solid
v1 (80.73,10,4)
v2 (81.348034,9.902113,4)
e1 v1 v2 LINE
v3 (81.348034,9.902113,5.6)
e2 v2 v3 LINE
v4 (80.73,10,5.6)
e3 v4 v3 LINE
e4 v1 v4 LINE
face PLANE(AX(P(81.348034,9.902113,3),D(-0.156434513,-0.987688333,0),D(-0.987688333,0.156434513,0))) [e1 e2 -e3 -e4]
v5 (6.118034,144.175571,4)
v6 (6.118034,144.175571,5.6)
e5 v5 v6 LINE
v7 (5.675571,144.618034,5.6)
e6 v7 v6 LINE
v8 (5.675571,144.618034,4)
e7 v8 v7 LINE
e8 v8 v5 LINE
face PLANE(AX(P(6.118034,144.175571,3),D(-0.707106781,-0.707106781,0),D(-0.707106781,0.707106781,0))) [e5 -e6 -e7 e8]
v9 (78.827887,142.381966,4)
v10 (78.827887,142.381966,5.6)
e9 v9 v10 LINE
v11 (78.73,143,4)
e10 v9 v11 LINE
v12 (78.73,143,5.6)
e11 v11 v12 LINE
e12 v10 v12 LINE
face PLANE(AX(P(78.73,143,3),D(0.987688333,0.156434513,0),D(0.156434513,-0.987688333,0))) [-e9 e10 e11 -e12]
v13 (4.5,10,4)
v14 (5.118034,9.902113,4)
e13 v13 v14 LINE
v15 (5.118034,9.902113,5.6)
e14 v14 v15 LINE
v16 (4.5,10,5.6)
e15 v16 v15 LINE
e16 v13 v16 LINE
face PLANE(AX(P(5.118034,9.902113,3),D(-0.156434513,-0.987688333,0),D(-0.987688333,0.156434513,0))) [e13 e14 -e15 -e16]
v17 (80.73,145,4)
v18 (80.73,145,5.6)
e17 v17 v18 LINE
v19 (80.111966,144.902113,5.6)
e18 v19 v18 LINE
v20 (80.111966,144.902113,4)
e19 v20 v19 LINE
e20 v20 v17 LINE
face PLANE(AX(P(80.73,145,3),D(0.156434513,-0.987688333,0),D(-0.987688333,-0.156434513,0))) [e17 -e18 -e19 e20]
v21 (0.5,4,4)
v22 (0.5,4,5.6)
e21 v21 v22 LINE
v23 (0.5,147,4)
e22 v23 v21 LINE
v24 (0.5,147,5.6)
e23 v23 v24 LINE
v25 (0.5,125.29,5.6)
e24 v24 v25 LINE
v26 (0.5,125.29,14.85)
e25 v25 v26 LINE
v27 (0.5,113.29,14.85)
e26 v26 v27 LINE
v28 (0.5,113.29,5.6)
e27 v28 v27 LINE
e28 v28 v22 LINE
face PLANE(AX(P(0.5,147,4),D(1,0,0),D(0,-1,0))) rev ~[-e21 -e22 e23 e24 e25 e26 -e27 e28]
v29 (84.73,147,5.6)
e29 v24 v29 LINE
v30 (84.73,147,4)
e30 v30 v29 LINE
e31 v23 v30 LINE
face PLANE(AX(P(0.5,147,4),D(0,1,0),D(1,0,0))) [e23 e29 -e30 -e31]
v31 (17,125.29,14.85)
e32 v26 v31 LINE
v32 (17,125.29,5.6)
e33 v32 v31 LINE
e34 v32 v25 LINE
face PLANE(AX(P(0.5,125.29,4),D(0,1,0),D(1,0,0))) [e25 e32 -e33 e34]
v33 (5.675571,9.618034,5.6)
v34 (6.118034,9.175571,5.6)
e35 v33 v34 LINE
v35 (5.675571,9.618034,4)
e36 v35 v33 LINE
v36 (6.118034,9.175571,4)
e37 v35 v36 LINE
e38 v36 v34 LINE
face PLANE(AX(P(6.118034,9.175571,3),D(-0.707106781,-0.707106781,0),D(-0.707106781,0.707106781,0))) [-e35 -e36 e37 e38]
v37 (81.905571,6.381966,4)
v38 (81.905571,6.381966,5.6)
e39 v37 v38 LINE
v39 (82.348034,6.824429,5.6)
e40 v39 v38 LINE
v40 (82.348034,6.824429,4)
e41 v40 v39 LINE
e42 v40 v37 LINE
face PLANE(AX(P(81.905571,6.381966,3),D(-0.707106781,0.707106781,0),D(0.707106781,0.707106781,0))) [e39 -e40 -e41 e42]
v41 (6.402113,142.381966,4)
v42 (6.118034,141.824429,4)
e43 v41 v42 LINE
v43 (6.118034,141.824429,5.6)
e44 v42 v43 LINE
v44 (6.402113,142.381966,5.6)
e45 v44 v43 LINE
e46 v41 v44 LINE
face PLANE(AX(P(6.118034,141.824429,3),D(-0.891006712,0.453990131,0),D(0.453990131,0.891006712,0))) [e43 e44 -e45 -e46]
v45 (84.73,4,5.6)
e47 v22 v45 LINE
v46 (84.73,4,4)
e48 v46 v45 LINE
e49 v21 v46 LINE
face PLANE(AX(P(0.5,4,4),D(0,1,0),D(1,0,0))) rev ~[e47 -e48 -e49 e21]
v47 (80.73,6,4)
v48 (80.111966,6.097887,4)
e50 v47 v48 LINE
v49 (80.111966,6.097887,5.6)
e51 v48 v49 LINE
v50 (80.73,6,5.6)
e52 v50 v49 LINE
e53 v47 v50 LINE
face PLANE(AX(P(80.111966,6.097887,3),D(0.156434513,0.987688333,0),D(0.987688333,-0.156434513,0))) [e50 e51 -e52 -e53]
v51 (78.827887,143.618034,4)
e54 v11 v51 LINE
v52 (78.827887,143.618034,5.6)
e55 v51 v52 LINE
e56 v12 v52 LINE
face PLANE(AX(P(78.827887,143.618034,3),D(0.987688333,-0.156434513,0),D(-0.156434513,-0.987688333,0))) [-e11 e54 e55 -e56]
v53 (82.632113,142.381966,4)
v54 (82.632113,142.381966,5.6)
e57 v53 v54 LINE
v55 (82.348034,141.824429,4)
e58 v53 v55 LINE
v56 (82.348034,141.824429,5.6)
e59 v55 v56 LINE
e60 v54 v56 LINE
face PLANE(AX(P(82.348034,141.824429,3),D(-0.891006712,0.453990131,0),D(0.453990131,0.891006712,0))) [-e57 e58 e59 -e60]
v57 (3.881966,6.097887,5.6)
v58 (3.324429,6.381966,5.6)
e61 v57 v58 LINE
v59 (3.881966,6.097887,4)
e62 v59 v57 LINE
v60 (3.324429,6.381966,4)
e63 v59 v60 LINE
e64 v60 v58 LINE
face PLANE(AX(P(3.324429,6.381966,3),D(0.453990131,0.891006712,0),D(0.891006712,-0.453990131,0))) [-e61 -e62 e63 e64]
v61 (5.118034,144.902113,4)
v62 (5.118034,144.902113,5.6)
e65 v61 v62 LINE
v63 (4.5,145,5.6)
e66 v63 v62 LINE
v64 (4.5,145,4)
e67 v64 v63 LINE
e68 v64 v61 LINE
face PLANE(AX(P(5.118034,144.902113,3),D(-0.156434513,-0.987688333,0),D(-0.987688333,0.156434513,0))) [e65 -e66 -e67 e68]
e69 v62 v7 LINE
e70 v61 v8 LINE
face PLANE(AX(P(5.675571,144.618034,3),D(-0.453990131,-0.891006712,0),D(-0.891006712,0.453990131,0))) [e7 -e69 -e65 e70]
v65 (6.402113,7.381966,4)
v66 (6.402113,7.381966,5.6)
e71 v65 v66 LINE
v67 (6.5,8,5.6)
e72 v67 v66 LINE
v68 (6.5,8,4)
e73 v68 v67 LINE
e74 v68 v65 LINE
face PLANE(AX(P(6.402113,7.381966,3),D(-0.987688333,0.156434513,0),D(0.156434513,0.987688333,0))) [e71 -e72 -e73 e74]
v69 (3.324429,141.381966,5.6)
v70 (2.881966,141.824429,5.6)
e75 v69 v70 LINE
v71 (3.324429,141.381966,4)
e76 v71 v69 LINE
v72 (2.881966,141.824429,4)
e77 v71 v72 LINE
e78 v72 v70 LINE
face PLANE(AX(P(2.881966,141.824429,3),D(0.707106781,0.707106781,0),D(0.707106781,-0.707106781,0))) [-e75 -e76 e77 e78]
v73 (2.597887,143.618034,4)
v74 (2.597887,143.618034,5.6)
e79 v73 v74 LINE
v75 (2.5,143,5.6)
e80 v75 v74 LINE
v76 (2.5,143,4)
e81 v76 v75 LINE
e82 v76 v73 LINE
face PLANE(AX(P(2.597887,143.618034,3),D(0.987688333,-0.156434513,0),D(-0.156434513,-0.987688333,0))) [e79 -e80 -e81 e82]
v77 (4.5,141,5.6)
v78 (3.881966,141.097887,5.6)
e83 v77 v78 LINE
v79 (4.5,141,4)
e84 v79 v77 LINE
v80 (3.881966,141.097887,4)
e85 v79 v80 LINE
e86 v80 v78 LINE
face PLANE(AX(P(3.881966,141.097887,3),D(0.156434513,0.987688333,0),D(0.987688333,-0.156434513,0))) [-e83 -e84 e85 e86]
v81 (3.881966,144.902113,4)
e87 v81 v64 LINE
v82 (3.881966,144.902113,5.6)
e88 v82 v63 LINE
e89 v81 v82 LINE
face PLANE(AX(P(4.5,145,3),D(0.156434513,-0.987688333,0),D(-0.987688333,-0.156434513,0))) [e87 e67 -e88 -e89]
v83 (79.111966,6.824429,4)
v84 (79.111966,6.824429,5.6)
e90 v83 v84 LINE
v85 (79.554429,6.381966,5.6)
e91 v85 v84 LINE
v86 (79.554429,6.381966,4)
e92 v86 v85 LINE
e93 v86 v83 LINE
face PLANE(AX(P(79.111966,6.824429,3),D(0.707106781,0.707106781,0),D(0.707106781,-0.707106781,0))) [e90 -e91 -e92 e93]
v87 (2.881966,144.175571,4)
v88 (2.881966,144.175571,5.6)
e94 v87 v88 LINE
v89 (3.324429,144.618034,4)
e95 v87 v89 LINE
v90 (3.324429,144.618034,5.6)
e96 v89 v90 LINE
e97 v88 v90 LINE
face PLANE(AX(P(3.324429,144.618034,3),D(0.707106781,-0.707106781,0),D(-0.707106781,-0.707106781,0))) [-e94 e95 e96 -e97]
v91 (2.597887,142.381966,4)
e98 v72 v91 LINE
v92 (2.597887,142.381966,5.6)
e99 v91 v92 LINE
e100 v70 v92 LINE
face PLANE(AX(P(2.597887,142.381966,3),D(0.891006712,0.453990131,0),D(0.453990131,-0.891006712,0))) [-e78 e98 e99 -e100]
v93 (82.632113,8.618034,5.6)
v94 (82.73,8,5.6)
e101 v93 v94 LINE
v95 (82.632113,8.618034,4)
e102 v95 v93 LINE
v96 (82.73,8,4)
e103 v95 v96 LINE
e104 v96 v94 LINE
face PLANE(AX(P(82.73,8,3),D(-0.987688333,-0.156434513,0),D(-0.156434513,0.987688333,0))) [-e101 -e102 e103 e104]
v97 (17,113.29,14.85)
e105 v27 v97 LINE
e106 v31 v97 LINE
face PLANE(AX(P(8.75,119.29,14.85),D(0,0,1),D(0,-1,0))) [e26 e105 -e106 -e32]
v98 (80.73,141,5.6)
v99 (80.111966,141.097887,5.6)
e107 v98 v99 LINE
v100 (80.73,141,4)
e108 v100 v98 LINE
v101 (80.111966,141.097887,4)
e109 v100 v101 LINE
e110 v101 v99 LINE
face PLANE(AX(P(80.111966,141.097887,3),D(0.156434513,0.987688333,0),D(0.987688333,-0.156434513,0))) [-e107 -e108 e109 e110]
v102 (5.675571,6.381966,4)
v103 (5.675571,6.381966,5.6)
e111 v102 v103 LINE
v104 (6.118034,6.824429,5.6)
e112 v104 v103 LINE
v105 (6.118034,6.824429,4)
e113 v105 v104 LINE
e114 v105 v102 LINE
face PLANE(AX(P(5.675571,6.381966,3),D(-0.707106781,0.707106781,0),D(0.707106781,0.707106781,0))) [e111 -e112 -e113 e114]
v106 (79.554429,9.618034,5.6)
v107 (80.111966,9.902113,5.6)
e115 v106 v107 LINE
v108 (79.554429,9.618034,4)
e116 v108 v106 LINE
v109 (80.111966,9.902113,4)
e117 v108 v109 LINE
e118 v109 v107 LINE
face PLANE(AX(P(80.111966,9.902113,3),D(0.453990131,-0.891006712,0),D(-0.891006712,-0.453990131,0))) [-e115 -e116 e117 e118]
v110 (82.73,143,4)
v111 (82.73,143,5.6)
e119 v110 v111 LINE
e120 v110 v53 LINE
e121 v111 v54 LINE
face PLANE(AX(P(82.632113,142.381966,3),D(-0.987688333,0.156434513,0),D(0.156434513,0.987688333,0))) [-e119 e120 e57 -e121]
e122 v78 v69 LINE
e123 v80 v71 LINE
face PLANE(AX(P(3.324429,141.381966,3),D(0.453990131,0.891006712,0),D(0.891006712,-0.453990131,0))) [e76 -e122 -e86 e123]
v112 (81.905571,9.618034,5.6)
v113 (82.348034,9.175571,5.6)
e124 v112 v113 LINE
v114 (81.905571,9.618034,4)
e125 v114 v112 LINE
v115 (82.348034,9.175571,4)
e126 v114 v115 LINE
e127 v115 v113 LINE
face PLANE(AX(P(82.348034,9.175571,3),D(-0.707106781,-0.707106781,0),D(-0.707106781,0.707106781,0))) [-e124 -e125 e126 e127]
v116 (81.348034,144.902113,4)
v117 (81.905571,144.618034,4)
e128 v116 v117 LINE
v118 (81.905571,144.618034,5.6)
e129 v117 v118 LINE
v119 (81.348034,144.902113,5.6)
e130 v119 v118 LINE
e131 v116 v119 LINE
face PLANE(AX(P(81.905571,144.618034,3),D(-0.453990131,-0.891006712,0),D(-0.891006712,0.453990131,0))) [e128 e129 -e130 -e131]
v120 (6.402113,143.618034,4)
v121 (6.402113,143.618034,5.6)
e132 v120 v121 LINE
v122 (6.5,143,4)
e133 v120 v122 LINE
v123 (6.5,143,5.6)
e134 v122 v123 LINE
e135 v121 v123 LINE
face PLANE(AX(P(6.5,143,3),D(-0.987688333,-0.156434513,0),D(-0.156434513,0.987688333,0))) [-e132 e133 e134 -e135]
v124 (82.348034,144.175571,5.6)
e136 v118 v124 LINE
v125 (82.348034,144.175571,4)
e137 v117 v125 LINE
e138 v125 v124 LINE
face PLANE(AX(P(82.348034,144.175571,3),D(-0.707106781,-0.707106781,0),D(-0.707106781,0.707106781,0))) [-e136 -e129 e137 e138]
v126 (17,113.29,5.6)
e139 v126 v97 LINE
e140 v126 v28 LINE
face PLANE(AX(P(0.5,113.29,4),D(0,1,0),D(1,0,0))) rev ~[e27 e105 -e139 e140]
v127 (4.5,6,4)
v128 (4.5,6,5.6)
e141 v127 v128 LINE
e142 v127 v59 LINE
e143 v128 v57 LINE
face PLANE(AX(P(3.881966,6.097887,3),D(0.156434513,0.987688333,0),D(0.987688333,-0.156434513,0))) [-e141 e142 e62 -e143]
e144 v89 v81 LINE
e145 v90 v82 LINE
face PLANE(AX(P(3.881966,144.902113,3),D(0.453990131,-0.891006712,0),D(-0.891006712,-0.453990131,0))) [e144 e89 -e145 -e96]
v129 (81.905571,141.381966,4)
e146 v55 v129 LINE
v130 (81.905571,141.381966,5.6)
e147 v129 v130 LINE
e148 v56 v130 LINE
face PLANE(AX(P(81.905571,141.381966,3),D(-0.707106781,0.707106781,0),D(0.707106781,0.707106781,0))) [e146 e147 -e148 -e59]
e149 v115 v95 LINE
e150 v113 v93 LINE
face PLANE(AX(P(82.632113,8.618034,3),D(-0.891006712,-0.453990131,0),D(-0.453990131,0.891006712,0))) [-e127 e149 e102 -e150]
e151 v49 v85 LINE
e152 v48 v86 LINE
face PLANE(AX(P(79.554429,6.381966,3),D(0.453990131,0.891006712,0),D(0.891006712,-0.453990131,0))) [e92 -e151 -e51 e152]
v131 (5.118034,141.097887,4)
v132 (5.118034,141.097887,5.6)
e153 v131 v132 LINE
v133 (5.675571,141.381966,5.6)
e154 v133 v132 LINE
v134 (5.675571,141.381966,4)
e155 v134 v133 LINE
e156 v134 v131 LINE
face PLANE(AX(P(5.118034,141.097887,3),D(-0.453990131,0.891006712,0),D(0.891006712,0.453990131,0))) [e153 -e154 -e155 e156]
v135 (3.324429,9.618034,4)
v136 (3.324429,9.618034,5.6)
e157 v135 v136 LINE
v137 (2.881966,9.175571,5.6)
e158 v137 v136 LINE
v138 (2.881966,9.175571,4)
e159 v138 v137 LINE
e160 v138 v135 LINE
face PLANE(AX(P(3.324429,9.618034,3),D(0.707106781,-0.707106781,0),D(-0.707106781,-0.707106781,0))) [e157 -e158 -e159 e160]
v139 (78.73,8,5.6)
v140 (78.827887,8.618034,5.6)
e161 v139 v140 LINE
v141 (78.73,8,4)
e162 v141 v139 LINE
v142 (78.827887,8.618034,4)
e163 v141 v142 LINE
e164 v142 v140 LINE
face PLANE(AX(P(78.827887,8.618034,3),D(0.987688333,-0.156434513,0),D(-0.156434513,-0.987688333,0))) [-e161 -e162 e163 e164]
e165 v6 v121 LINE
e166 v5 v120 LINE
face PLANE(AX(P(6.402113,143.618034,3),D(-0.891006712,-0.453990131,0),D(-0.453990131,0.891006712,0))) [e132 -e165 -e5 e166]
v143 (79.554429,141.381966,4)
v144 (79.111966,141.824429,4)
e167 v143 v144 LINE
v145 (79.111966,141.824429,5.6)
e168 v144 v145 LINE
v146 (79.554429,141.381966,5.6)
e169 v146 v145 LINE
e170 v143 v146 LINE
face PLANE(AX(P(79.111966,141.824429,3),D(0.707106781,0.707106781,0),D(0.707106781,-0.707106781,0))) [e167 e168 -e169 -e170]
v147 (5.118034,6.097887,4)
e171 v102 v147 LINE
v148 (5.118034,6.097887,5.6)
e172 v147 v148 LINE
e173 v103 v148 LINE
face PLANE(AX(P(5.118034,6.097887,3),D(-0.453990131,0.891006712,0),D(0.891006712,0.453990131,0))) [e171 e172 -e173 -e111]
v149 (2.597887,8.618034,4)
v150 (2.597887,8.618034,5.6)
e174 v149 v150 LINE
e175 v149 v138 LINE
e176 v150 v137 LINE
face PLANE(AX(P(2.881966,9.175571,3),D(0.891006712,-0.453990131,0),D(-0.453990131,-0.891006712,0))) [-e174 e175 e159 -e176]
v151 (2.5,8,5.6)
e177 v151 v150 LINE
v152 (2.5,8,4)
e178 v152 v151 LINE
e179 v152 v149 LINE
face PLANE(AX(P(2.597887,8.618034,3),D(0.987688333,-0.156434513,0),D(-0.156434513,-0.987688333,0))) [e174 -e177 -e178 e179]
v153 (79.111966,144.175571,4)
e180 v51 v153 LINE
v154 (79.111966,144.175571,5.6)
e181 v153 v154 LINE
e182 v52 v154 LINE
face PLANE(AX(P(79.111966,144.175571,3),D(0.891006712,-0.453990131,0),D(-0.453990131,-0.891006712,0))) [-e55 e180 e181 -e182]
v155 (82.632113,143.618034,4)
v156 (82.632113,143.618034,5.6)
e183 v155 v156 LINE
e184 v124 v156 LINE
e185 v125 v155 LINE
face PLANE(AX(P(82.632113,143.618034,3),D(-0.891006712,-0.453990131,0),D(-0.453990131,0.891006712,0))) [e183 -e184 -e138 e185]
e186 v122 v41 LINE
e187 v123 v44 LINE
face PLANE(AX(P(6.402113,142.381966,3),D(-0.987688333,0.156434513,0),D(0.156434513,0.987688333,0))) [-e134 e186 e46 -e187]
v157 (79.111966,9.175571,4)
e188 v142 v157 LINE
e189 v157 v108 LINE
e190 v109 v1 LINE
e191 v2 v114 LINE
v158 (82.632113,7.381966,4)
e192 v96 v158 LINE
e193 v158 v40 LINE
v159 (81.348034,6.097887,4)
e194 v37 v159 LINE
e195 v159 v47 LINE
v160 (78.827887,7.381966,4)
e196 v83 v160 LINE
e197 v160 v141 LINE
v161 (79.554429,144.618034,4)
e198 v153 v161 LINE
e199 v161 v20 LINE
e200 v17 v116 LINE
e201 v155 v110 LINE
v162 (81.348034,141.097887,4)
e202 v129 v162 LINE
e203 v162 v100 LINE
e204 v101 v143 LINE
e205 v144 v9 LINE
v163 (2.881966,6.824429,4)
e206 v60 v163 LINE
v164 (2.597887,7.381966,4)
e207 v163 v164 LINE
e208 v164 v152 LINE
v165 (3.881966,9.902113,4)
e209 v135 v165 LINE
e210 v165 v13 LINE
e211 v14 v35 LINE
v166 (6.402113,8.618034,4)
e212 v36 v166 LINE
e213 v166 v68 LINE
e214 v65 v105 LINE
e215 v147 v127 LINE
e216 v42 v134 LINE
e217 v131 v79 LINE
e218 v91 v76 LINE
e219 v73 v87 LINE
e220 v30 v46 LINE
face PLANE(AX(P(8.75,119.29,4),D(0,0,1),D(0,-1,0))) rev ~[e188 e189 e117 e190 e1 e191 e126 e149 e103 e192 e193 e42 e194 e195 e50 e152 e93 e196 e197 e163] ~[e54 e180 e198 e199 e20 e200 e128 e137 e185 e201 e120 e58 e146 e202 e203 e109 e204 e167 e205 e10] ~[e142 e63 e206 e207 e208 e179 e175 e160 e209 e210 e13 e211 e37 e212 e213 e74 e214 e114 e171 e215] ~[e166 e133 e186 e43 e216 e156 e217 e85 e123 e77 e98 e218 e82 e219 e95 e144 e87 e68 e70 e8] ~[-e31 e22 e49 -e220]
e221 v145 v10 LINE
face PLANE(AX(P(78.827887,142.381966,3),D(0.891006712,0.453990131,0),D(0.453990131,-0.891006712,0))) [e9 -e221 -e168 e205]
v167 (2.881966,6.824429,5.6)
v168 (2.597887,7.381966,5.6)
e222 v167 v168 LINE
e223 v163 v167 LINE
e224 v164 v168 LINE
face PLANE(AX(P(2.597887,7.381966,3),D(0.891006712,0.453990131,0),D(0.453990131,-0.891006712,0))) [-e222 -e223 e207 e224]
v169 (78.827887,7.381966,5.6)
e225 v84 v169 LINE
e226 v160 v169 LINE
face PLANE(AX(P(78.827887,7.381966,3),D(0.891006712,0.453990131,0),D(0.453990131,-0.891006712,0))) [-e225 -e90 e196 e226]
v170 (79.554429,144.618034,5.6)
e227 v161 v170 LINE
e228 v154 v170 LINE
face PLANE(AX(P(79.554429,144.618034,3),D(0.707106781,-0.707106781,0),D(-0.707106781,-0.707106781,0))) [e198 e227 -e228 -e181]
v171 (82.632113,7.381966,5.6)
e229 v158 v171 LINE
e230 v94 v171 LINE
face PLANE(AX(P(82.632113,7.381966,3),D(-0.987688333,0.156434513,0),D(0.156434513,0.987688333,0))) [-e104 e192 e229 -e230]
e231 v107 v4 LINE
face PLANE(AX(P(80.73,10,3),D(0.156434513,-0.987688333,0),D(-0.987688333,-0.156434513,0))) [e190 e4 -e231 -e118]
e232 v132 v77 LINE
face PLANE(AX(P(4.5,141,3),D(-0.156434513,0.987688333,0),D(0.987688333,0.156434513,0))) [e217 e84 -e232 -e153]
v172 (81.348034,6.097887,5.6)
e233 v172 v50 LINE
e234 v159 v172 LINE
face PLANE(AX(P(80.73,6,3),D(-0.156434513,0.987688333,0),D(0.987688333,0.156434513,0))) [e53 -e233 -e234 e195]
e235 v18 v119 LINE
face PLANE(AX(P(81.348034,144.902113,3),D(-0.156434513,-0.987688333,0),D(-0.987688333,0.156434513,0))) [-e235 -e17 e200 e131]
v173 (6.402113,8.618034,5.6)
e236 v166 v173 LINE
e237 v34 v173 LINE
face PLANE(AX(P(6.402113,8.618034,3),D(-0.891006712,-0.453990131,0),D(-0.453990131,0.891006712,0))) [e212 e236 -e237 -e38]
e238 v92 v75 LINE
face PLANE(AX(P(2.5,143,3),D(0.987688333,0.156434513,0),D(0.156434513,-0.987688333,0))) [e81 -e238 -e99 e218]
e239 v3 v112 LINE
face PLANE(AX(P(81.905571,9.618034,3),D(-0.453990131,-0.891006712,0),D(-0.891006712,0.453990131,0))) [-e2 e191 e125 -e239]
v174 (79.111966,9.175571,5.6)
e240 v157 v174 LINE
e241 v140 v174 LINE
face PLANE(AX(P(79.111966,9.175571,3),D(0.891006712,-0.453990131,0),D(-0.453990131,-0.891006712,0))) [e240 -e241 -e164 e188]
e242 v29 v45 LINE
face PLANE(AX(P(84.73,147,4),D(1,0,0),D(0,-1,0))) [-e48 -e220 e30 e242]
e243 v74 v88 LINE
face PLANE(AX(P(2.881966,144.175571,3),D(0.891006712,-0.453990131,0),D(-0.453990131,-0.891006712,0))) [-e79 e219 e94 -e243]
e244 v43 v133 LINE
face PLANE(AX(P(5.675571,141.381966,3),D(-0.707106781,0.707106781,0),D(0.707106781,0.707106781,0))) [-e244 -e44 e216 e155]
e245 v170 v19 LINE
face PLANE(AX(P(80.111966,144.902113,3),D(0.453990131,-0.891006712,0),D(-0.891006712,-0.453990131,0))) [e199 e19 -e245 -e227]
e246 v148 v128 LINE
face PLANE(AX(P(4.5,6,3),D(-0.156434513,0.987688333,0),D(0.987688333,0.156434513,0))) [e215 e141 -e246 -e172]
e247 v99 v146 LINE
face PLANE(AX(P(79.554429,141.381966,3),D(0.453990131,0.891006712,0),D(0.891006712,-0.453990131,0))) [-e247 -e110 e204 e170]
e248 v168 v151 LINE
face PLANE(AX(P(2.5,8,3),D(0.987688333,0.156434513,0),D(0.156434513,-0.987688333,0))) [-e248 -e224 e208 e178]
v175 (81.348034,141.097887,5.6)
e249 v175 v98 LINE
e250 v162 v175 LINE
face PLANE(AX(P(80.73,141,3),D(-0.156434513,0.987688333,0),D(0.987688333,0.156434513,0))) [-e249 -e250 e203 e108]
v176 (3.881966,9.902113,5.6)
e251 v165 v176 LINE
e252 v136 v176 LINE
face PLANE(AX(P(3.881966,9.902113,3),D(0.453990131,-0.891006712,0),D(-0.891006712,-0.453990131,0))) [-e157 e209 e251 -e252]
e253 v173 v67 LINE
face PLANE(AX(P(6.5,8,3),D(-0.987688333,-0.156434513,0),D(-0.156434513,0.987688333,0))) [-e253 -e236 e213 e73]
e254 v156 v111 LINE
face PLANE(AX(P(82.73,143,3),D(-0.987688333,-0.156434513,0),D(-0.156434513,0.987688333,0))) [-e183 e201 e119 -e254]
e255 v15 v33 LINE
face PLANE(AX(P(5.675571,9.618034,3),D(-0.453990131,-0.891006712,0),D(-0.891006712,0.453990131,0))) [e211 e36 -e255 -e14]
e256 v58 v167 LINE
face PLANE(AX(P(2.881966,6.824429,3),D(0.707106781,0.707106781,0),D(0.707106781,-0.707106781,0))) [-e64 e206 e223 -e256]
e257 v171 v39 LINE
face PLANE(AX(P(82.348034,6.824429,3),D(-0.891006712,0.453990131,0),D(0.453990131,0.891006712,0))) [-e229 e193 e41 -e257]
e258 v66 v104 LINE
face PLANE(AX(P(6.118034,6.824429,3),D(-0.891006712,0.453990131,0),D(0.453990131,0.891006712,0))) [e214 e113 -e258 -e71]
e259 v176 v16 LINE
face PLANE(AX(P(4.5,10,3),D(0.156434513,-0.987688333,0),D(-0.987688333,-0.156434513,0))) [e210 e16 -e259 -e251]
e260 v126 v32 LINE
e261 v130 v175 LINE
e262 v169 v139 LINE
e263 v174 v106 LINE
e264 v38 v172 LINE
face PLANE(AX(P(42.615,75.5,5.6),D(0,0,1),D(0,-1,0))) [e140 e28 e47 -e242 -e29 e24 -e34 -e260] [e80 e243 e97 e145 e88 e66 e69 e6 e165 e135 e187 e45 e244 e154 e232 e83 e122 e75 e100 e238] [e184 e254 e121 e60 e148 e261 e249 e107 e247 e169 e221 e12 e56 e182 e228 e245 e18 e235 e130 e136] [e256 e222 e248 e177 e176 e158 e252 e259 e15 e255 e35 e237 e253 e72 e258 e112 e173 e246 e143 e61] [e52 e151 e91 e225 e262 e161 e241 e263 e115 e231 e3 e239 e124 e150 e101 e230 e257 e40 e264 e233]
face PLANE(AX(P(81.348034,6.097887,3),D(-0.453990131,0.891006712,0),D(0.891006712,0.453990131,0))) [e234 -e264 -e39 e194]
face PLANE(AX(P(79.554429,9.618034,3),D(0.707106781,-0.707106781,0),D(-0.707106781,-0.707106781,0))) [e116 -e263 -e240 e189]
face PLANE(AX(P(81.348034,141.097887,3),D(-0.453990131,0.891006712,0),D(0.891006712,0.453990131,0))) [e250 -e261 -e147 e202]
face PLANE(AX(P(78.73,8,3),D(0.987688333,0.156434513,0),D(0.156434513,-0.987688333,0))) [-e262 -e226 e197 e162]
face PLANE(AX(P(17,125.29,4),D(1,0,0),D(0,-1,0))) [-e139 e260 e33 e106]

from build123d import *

# Parameters (mm, degrees)
PRISM001_DEPTH             = 10
PRISM002_DEPTH             = 10
PRISM003_DEPTH             = 10
PRISM_DEPTH                = 10
CUBE001_W                  = 12
CUBE001_H                  = 16.5
CUBE001_DEPTH              = 10.85
CUBE_W                     = 143
CUBE_H                     = 84.23
CUBE_DEPTH                 = 1.6
DIFFERENCE_PLACEMENT_ANGLE = -90


with BuildPart() as prism001:
    # prism001 → prism001 (new body)
    with BuildSketch(Plane(origin=(139, 4, -1), x_dir=(1, 0, 0), z_dir=(0, 0, 1))):
        Polygon((2, 0), (1.902113, 0.618034), (1.618034, 1.175571), (1.175571, 1.618034), (0.618034, 1.902113), (0, 2), (-0.618034, 1.902113), (-1.175571, 1.618034), (-1.618034, 1.175571), (-1.902113, 0.618034), (-2, 0), (-1.902113, -0.618034), (-1.618034, -1.175571), (-1.175571, -1.618034), (-0.618034, -1.902113), (0, -2), (0.618034, -1.902113), (1.175571, -1.618034), (1.618034, -1.175571), (1.902113, -0.618034), align=None)
    extrude(amount=PRISM001_DEPTH)


with BuildPart() as prism002:
    # prism002 → prism002 (new body)
    with BuildSketch(Plane(origin=(4, 80.23, -1), x_dir=(1, 0, 0), z_dir=(0, 0, 1))):
        Polygon((2, 0), (1.902113, 0.618034), (1.618034, 1.175571), (1.175571, 1.618034), (0.618034, 1.902113), (0, 2), (-0.618034, 1.902113), (-1.175571, 1.618034), (-1.618034, 1.175571), (-1.902113, 0.618034), (-2, 0), (-1.902113, -0.618034), (-1.618034, -1.175571), (-1.175571, -1.618034), (-0.618034, -1.902113), (0, -2), (0.618034, -1.902113), (1.175571, -1.618034), (1.618034, -1.175571), (1.902113, -0.618034), align=None)
    extrude(amount=PRISM002_DEPTH)


with BuildPart() as prism003:
    # prism003 → prism003 (new body)
    with BuildSketch(Plane(origin=(139, 80.23, -1), x_dir=(1, 0, 0), z_dir=(0, 0, 1))):
        Polygon((2, 0), (1.902113, 0.618034), (1.618034, 1.175571), (1.175571, 1.618034), (0.618034, 1.902113), (0, 2), (-0.618034, 1.902113), (-1.175571, 1.618034), (-1.618034, 1.175571), (-1.902113, 0.618034), (-2, 0), (-1.902113, -0.618034), (-1.618034, -1.175571), (-1.175571, -1.618034), (-0.618034, -1.902113), (0, -2), (0.618034, -1.902113), (1.175571, -1.618034), (1.618034, -1.175571), (1.902113, -0.618034), align=None)
    extrude(amount=PRISM003_DEPTH)


with BuildPart() as group002:
    # prism → prism (new body)
    with BuildSketch(Plane(origin=(4, 4, -1), x_dir=(1, 0, 0), z_dir=(0, 0, 1))):
        Polygon((2, 0), (1.902113, 0.618034), (1.618034, 1.175571), (1.175571, 1.618034), (0.618034, 1.902113), (0, 2), (-0.618034, 1.902113), (-1.175571, 1.618034), (-1.618034, 1.175571), (-1.902113, 0.618034), (-2, 0), (-1.902113, -0.618034), (-1.618034, -1.175571), (-1.175571, -1.618034), (-0.618034, -1.902113), (0, -2), (0.618034, -1.902113), (1.175571, -1.618034), (1.618034, -1.175571), (1.902113, -0.618034), align=None)
    extrude(amount=PRISM_DEPTH)

    # Group002: union prism001, prism002, prism003
    add(prism001.part)
    add(prism002.part)
    add(prism003.part)


with BuildPart() as cube001:
    # cube001 → cube001 (new body)
    with BuildSketch(Plane(origin=(21.71, 0, 0), x_dir=(1, 0, 0), z_dir=(0, 0, 1))):
        with Locations((6, 8.25)):
            Rectangle(CUBE001_W, CUBE001_H)
    extrude(amount=CUBE001_DEPTH)


with BuildPart() as mks_gen_14_dummy:
    # cube → cube (new body)
    with BuildSketch(Plane.XY):
        with Locations((71.5, 42.115)):
            Rectangle(CUBE_W, CUBE_H)
    extrude(amount=CUBE_DEPTH)

    # Group001: union cube001
    add(cube001.part)

    # difference: cut Group002
    add(group002.part, mode=Mode.SUBTRACT)


with BuildPart() as mks_gen_14_dummy_1:
    # difference placement: moved
    add(mks_gen_14_dummy.part.moved(Location((0.5, 147, 4))).rotate(Axis((0.5, 147, 4), (0, 0, 1)), DIFFERENCE_PLACEMENT_ANGLE))


solid = mks_gen_14_dummy_1.part
